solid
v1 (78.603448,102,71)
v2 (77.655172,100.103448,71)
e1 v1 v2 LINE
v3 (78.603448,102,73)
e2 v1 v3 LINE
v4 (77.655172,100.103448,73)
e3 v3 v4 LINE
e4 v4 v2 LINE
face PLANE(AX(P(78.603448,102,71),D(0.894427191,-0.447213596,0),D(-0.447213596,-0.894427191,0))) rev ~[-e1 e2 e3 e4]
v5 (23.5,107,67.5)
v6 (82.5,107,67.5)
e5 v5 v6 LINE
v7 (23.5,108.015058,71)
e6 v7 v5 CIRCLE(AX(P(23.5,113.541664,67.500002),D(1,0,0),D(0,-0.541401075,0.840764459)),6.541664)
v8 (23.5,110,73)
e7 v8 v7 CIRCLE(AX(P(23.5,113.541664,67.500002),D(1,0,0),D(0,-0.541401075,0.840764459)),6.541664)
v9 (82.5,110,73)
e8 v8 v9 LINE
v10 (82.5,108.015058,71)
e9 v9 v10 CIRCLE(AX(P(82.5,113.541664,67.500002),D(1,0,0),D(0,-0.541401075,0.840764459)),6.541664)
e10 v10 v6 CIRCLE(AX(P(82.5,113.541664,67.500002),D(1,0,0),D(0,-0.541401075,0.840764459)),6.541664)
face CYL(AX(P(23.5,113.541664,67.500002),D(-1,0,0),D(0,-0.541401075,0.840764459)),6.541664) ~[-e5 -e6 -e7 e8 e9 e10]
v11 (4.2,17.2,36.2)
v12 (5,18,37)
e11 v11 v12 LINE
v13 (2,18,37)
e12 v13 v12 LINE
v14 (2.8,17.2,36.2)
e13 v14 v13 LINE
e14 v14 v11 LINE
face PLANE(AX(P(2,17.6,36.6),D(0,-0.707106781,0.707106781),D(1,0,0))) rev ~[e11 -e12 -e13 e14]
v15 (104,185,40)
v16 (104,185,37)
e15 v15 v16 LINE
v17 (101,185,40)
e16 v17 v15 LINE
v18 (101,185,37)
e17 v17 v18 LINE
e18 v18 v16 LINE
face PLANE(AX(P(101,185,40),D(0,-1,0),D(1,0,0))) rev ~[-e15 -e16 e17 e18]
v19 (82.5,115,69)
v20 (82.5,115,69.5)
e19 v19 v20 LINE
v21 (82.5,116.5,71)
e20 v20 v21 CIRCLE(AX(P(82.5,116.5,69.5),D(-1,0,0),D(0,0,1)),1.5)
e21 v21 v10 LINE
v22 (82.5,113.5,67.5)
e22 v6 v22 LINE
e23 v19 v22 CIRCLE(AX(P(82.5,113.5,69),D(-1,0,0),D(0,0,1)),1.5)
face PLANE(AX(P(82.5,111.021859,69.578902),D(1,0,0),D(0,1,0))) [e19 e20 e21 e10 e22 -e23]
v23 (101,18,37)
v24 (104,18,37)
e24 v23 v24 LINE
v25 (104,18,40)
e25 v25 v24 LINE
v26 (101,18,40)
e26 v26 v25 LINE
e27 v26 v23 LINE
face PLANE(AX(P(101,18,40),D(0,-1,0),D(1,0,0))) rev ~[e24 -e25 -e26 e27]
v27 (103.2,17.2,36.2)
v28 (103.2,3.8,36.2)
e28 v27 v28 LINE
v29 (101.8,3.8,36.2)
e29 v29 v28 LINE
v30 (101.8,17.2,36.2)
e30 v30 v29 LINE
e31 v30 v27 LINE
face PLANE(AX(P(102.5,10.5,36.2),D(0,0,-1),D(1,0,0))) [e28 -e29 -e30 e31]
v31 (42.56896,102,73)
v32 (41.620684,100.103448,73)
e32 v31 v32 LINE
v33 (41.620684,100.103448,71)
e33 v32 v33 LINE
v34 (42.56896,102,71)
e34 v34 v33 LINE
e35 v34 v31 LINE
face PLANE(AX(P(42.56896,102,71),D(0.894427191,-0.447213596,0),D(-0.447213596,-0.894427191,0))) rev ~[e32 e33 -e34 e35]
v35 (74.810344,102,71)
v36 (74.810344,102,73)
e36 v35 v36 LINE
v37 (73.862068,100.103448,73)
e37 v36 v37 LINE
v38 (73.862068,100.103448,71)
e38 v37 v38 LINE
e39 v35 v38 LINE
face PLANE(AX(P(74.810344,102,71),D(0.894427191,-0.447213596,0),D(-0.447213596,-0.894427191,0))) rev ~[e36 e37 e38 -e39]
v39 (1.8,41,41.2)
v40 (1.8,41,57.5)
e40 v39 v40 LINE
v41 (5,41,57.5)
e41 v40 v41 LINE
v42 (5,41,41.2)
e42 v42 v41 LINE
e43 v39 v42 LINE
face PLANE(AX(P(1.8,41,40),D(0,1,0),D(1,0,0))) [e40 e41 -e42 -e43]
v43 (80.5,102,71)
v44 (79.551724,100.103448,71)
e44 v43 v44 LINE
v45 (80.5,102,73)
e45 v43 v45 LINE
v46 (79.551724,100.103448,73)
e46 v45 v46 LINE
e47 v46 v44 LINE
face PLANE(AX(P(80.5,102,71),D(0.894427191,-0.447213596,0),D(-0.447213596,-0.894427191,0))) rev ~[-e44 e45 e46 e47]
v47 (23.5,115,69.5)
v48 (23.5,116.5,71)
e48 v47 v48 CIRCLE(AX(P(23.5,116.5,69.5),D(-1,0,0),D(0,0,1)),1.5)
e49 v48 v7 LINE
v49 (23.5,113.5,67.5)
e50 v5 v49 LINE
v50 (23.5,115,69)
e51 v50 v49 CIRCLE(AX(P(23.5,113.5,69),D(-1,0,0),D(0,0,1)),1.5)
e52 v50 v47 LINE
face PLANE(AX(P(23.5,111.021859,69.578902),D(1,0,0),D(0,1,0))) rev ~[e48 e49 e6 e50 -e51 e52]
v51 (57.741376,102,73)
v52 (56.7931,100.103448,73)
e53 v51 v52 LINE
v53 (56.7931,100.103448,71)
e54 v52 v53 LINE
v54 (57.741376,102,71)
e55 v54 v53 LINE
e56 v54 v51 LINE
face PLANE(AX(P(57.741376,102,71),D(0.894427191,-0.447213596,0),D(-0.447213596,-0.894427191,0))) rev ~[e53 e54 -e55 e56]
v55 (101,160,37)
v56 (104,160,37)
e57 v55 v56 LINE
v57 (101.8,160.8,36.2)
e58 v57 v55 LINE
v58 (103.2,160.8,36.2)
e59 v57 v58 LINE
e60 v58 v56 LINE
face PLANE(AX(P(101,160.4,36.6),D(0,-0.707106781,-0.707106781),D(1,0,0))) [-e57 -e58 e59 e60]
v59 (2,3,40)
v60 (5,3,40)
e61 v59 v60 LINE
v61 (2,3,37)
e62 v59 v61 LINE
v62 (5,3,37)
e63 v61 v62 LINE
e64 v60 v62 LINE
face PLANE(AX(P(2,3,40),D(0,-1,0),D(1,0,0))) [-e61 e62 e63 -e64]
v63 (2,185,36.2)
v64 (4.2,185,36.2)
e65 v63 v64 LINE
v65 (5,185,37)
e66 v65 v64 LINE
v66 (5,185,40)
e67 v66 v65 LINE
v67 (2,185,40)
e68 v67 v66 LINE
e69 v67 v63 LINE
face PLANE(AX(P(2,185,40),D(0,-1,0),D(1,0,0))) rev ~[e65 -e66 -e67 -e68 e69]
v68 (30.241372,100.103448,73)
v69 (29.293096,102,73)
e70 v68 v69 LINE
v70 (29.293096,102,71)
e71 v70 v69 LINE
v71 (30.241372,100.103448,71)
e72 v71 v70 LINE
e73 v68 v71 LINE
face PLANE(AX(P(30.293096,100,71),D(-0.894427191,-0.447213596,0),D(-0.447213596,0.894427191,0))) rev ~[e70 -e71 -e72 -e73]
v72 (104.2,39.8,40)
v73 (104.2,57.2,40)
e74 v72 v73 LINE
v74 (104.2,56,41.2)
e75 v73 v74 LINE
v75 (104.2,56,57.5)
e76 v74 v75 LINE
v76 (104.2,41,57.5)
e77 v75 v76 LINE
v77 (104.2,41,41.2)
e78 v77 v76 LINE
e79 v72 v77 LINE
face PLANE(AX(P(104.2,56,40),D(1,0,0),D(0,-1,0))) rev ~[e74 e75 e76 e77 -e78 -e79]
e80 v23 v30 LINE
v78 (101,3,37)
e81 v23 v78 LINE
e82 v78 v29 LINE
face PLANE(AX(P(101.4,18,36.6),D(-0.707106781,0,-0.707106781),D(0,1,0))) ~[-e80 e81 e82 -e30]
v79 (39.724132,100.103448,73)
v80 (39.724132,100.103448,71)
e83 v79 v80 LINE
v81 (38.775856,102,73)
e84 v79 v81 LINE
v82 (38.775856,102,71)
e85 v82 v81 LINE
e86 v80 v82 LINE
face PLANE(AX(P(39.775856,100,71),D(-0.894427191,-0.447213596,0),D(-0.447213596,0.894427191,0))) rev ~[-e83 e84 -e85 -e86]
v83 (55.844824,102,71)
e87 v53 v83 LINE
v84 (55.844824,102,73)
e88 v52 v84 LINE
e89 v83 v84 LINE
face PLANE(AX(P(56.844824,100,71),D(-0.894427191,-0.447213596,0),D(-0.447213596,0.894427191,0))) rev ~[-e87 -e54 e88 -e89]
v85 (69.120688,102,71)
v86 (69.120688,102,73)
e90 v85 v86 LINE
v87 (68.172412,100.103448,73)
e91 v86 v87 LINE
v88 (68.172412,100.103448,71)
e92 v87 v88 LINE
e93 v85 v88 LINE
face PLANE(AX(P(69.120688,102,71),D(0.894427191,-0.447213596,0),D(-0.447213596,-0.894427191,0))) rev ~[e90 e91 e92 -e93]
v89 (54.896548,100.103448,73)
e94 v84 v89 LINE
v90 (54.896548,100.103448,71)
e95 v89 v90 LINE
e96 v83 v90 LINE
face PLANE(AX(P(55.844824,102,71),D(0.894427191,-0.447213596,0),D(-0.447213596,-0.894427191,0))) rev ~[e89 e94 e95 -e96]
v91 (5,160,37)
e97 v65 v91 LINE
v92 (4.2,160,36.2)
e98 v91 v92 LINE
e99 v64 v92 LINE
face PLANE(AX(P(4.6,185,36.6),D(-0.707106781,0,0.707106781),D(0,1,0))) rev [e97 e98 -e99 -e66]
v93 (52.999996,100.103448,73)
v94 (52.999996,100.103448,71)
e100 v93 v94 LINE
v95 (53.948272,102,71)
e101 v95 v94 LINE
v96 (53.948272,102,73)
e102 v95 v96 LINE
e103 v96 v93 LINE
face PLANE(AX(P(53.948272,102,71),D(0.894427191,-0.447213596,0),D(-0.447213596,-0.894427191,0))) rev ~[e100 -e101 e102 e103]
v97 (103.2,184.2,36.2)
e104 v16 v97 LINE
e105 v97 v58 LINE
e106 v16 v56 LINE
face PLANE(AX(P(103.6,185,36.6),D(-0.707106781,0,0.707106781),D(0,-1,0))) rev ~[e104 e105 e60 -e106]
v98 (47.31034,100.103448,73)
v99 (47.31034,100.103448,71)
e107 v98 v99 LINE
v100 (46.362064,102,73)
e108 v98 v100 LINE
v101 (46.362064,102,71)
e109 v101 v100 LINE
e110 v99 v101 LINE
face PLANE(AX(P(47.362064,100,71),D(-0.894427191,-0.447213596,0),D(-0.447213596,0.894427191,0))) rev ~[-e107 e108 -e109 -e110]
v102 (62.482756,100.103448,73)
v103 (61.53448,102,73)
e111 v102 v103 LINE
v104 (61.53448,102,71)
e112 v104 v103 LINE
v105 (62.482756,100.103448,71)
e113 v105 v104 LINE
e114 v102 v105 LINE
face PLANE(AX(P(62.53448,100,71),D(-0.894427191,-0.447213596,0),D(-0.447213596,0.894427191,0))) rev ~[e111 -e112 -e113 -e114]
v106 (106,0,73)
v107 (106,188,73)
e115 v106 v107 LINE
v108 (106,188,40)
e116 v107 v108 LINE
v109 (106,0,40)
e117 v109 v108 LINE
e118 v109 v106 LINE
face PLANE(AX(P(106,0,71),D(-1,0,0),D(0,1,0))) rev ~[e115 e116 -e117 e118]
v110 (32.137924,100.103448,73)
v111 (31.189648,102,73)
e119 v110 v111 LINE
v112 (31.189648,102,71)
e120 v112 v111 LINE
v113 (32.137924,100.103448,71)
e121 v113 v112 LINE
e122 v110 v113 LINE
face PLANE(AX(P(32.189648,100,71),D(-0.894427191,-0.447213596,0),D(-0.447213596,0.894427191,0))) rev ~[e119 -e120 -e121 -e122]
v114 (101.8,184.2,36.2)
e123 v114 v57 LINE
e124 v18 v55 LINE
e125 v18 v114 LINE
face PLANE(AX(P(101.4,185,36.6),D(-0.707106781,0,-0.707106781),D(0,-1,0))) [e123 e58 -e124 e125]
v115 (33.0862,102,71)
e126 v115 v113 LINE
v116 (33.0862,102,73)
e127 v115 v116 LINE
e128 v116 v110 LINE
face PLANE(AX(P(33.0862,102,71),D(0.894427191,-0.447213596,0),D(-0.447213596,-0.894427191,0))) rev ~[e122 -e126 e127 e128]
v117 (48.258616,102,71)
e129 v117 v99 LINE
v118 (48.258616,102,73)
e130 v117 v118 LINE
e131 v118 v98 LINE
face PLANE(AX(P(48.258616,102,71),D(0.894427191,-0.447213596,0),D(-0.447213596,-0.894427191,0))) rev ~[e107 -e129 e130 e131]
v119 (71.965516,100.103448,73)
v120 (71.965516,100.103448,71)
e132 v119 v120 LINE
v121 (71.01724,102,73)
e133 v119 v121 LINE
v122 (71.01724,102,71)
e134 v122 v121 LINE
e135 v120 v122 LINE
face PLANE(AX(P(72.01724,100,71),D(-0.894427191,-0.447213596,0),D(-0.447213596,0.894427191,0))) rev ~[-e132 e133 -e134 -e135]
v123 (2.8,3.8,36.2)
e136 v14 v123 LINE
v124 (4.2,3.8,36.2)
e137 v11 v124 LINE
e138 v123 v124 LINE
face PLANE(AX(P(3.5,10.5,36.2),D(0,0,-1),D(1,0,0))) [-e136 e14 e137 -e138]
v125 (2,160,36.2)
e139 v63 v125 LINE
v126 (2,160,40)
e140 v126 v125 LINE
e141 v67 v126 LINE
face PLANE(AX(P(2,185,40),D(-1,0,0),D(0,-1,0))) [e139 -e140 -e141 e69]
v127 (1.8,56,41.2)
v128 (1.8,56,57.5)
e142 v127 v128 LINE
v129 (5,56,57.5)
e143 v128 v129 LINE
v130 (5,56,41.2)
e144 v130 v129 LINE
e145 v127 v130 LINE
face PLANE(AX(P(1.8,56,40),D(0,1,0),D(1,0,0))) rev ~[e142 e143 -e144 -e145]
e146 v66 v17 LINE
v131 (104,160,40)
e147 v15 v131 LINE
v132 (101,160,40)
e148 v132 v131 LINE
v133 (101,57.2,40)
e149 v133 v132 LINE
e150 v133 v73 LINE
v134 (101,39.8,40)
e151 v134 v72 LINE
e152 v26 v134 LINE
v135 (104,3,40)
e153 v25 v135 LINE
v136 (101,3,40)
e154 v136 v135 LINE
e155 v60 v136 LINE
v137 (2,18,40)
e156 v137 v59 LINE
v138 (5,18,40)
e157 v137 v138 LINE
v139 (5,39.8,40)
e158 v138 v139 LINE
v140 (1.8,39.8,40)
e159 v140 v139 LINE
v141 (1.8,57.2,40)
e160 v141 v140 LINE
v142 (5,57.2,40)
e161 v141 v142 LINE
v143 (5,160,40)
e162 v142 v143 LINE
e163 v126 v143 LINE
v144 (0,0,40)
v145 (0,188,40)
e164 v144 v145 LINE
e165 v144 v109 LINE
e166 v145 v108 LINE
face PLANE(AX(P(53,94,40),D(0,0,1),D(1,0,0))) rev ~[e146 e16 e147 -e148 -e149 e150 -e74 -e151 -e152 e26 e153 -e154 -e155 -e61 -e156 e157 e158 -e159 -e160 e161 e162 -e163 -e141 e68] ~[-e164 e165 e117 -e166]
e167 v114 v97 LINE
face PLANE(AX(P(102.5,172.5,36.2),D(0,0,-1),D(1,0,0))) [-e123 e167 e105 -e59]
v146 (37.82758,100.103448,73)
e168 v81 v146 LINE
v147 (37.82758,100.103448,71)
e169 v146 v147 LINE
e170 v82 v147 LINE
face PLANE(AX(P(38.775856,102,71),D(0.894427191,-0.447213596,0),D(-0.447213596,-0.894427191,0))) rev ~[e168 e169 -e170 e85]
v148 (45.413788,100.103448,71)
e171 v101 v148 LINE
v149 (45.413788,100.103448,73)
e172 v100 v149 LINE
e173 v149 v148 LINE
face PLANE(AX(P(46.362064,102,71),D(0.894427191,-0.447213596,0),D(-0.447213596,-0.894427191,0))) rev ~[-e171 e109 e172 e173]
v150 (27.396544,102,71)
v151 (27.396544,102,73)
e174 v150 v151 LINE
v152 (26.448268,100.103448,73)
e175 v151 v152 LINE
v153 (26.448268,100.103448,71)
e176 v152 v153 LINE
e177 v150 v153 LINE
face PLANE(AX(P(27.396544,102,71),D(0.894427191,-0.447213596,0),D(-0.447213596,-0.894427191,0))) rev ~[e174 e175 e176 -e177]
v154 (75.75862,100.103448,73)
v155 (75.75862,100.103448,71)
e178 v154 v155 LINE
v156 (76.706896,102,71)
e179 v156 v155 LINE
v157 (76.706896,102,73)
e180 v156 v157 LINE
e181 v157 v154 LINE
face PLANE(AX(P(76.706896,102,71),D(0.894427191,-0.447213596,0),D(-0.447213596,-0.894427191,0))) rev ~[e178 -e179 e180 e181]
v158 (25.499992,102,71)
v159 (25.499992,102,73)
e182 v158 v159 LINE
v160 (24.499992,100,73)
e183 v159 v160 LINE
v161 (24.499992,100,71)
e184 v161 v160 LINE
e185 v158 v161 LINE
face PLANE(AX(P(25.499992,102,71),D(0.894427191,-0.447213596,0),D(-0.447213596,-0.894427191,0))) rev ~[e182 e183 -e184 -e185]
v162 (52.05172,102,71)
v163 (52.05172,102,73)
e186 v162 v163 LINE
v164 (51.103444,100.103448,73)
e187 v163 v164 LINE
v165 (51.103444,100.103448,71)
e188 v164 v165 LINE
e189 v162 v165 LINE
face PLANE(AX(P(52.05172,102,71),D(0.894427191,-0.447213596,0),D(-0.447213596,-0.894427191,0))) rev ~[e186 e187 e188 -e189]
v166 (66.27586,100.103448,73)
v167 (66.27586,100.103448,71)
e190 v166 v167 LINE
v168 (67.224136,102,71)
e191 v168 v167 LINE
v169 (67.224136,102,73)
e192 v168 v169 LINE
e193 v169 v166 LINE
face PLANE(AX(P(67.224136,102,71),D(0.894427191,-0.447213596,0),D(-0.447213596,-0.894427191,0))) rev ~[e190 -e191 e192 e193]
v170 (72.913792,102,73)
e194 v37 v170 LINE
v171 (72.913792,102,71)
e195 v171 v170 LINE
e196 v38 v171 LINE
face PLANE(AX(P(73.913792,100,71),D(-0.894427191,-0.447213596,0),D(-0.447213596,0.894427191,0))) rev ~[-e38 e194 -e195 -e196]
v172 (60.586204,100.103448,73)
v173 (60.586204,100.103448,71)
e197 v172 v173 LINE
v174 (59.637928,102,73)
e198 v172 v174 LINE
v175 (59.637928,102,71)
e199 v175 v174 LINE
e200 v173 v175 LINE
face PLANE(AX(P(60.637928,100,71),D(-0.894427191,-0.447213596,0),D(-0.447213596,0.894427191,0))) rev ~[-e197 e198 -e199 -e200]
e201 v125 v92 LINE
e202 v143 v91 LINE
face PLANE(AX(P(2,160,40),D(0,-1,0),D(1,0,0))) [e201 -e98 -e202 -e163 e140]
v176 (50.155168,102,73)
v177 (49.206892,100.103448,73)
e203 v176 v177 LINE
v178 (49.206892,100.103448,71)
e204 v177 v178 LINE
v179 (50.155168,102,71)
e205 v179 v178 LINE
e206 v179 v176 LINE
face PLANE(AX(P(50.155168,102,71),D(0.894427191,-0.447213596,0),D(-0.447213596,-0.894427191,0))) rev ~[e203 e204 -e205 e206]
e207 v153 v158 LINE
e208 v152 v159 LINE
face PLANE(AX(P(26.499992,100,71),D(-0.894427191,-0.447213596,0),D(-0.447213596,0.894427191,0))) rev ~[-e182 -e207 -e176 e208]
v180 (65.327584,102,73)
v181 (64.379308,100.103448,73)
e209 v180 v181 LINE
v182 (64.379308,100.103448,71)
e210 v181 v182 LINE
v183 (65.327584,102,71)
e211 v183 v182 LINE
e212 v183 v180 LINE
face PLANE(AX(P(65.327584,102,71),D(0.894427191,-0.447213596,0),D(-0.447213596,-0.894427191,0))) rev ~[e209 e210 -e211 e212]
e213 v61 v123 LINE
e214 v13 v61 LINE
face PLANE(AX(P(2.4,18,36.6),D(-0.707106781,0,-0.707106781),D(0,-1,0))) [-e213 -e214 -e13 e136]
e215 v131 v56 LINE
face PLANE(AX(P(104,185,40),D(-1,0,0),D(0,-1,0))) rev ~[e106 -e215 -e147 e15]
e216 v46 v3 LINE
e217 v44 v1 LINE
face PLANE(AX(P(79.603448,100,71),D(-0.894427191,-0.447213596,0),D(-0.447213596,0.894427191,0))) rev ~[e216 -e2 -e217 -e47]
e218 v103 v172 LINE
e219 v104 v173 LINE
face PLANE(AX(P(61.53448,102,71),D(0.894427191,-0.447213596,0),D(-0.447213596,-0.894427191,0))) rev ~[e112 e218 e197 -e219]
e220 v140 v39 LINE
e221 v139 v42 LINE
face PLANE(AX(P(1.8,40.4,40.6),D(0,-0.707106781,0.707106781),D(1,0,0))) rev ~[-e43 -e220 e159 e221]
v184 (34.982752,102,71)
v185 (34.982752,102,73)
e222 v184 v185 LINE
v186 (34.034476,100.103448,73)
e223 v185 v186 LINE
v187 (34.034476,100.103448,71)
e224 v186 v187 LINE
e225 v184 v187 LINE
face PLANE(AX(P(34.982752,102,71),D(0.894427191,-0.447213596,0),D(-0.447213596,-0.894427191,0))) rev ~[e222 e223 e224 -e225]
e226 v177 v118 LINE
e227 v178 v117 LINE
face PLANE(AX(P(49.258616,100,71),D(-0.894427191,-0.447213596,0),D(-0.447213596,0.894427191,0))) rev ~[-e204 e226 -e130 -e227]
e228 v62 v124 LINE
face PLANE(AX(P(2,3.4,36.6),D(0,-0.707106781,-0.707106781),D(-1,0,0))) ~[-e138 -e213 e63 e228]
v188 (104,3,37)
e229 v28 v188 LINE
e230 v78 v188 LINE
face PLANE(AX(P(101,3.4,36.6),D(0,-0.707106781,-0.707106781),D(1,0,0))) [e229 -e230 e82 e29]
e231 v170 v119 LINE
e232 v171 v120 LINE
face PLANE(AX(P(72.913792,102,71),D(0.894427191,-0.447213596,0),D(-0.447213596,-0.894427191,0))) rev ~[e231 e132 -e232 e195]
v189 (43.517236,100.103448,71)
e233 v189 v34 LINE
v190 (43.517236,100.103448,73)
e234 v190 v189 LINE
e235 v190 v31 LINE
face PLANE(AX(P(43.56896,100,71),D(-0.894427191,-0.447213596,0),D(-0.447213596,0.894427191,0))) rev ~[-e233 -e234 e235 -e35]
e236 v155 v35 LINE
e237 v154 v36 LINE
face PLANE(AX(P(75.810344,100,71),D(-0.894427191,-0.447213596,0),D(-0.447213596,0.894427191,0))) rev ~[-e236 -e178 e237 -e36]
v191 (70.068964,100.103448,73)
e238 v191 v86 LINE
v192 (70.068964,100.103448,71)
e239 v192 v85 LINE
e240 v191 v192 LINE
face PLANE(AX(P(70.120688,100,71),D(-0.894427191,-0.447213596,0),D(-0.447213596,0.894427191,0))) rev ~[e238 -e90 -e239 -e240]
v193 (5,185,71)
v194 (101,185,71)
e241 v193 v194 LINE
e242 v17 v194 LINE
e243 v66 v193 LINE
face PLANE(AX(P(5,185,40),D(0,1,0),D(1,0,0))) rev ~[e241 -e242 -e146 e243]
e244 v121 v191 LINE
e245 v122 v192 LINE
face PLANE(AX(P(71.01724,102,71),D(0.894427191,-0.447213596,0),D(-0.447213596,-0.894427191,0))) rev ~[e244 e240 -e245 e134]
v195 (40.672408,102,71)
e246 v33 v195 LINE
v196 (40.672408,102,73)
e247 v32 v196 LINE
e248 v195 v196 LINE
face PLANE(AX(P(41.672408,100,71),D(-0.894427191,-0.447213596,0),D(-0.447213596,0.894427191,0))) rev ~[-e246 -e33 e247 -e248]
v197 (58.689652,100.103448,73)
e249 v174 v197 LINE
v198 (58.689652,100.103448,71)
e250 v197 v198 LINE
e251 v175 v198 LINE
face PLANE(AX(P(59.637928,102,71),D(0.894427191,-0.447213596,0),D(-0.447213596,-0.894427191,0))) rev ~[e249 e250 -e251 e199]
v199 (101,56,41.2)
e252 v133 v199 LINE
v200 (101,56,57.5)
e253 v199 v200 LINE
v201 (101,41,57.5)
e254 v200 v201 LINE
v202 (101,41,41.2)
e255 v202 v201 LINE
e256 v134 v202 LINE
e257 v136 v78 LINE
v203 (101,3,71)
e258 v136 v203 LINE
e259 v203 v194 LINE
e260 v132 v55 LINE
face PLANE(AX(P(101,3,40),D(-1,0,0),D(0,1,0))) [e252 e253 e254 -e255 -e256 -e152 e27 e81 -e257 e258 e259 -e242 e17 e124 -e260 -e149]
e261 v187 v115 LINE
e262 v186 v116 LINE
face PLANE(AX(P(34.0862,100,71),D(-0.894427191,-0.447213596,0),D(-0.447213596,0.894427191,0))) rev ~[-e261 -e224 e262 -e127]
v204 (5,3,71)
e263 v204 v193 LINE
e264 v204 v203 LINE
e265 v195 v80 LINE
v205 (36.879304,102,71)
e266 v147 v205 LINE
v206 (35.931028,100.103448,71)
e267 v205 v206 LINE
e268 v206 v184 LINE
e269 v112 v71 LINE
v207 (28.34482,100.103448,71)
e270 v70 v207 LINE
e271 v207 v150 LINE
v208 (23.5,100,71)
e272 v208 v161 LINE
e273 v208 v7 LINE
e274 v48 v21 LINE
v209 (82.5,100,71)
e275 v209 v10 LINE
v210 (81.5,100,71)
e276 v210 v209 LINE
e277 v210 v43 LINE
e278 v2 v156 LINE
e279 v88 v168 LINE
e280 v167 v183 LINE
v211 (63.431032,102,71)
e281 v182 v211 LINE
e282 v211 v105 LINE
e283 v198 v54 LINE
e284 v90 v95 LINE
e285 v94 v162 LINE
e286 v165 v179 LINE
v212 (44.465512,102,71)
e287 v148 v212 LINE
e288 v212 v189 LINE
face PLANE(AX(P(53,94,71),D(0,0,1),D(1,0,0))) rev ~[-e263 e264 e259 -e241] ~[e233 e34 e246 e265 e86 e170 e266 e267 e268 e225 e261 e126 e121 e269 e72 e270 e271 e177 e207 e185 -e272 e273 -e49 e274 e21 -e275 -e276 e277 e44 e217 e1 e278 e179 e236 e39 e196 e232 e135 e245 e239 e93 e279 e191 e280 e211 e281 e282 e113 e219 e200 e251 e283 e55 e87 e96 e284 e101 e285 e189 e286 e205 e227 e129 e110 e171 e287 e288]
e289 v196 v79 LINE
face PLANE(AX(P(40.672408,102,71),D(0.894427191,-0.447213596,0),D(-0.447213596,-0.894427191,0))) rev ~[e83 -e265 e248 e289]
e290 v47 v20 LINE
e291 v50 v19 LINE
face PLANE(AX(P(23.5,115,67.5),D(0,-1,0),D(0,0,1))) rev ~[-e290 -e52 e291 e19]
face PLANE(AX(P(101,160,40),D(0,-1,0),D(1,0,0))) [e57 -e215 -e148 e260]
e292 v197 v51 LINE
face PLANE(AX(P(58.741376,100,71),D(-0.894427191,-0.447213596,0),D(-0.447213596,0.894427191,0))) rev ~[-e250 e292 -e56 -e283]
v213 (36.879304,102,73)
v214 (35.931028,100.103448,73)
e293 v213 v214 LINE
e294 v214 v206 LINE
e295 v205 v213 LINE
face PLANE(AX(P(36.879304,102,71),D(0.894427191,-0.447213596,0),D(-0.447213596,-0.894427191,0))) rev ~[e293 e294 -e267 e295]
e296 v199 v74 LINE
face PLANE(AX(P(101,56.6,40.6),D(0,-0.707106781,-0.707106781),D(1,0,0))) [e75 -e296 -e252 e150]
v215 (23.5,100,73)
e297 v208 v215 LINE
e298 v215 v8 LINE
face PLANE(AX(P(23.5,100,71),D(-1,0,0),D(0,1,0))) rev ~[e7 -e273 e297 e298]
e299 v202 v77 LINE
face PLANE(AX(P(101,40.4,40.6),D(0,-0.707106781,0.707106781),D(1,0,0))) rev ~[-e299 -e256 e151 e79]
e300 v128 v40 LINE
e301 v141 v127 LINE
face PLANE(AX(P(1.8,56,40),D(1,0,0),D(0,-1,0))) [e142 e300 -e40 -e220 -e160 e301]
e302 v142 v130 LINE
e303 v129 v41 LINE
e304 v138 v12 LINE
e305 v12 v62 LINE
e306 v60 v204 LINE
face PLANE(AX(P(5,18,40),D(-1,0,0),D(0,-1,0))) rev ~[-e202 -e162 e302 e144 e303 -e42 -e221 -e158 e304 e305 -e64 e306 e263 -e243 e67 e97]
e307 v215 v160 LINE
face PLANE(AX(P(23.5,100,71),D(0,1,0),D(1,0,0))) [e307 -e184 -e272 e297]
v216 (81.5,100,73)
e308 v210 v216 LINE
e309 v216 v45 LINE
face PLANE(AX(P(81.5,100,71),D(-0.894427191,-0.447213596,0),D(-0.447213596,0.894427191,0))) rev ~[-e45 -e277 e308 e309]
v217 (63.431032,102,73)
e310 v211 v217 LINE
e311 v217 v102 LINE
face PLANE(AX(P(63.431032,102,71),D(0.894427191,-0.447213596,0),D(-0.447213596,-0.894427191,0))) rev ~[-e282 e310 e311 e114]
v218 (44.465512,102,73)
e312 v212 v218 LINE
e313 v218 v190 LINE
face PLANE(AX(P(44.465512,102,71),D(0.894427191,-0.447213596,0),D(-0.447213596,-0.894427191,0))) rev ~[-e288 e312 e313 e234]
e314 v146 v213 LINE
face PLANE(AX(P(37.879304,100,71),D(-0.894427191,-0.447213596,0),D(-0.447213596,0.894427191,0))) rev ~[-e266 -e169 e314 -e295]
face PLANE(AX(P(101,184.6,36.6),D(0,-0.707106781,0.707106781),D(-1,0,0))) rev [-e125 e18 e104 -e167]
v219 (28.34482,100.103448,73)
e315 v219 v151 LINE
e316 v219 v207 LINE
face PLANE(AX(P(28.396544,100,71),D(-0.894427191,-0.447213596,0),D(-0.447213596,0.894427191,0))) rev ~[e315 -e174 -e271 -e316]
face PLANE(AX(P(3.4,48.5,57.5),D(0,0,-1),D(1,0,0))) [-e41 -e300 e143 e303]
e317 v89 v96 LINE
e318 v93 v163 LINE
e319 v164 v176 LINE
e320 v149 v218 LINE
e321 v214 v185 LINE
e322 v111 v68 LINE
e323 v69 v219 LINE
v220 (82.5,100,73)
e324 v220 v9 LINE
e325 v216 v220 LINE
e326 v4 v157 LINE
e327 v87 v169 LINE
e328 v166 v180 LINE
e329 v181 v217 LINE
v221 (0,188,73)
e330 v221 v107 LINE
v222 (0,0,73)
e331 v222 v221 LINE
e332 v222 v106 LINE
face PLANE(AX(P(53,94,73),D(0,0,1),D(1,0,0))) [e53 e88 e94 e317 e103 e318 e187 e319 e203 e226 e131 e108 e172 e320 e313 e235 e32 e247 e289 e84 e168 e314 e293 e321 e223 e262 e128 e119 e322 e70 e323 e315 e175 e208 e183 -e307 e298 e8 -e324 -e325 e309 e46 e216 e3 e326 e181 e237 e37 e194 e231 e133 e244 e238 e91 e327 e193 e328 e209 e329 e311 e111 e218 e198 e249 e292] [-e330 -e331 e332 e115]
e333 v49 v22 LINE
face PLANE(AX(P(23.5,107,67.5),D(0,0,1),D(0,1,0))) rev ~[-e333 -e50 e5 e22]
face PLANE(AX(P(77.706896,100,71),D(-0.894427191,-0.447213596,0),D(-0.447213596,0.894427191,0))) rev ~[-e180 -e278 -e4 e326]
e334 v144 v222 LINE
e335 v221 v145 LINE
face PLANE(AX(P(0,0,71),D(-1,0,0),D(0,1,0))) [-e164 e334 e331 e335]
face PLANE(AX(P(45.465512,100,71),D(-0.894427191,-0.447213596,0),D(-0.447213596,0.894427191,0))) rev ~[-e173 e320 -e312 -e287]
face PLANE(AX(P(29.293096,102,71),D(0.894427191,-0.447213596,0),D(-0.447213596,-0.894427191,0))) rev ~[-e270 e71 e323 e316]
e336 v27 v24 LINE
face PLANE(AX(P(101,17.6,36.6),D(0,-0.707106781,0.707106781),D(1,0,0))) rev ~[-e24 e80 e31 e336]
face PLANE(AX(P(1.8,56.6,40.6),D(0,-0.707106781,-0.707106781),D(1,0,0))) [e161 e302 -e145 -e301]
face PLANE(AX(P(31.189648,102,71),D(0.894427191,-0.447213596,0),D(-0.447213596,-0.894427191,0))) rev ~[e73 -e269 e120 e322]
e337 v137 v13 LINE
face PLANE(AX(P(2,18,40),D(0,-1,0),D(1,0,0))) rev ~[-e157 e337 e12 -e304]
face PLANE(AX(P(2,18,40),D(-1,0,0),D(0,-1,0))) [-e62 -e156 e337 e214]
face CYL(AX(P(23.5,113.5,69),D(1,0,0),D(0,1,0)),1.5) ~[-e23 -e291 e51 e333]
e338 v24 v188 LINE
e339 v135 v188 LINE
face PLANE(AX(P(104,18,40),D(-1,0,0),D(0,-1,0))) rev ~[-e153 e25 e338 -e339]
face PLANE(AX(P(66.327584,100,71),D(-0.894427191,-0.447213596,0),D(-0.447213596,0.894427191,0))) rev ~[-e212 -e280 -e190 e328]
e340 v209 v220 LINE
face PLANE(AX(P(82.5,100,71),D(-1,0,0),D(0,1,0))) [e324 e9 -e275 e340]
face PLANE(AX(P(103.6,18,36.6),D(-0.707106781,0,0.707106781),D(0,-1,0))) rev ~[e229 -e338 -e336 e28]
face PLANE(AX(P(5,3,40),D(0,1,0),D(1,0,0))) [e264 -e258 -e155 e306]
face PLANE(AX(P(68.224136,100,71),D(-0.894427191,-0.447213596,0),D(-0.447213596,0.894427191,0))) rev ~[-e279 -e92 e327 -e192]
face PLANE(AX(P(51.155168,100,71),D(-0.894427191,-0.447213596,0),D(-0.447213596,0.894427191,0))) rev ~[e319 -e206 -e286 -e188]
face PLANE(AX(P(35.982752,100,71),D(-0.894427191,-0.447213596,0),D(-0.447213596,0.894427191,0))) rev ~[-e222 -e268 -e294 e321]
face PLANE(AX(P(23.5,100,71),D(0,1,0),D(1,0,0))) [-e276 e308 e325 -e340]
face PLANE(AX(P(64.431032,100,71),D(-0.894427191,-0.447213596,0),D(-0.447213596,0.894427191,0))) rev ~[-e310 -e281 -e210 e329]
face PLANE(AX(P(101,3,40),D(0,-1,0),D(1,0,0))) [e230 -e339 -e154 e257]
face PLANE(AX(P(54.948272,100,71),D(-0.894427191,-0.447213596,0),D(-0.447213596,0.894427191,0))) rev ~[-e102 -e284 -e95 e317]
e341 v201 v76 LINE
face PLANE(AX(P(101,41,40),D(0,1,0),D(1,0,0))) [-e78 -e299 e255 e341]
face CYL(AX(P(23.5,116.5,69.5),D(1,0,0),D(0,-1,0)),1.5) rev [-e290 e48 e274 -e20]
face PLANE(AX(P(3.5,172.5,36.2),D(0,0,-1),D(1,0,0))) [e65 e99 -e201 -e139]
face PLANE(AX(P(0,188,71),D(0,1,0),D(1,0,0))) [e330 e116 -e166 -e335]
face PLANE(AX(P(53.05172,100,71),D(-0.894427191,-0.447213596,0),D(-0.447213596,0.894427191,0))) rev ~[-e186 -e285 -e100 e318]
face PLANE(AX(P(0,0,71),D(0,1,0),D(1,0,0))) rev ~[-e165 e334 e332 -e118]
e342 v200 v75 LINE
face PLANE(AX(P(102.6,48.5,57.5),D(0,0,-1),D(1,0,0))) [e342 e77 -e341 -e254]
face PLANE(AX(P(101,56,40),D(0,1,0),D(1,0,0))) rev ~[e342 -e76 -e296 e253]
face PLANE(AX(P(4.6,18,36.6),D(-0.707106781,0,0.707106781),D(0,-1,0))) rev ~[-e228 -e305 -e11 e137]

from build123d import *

# Parameters (mm, degrees)
SKETCH016_W         = 106
SKETCH016_H         = 188
SKETCH016_W_2       = 96
SKETCH016_H_2       = 182
PAD010_DEPTH        = 31
SKETCH017_W         = 3
SKETCH017_H         = 15
SKETCH017_H_2       = 25
PAD011_DEPTH        = 3.8
SKETCH018_W         = 3.2
SKETCH018_H         = 15
POCKET006_DEPTH     = 17.5
SKETCH019_W         = 106
SKETCH019_H         = 188
SKETCH019_W_2       = 59
SKETCH019_H_2       = 10
PAD012_DEPTH        = 2
CHAMFER001_SIZE     = 0.8
CHAMFER002_SIZE     = 1.2
PAD013_DEPTH        = 2
LINEARPATTERN_COUNT = 30
LINEARPATTERN_PITCH = 1.896552
PAD014_DEPTH        = 59
FILLET_R            = 1.5


with BuildPart() as part:
    # Sketch016 → Pad010 (new body)
    with BuildSketch(Plane.XY):
        with Locations((53, 94)):
            Rectangle(SKETCH016_W, SKETCH016_H)
        with Locations((53, 94)):
            Rectangle(SKETCH016_W_2, SKETCH016_H_2, mode=Mode.SUBTRACT)
    extrude(amount=PAD010_DEPTH)

    # Sketch017 (on Face9 of Pad010) → Pad011 (join)
    with BuildSketch(Plane(origin=(0, 0, 0), x_dir=(1, 0, 0), z_dir=(0, 0, -1))):
        with Locations((3.5, -10.5)):
            Rectangle(SKETCH017_W, SKETCH017_H)
        with Locations((3.5, -172.5)):
            Rectangle(SKETCH017_W, SKETCH017_H_2)
        with Locations((102.5, -172.5)):
            Rectangle(SKETCH017_W, SKETCH017_H_2)
        with Locations((102.5, -10.5)):
            Rectangle(SKETCH017_W, SKETCH017_H)
    extrude(amount=PAD011_DEPTH)

    # Sketch018 (on Face4 of Pad011) → Pocket006 (cut)
    with BuildSketch(Plane(origin=(0, 0, 0), x_dir=(1, 0, 0), z_dir=(0, 0, -1))):
        with Locations((3.4, -48.5)):
            Rectangle(SKETCH018_W, SKETCH018_H)
        with Locations((102.6, -48.5)):
            Rectangle(SKETCH018_W, SKETCH018_H)
    extrude(amount=-POCKET006_DEPTH, mode=Mode.SUBTRACT)

    # Sketch019 (on Face5 of Pocket006) → Pad012 (join)
    with BuildSketch(Plane.XY.offset(31)):
        with Locations((53, 94)):
            Rectangle(SKETCH019_W, SKETCH019_H)
        with Locations((53, 105)):
            Rectangle(SKETCH019_W_2, SKETCH019_H_2, mode=Mode.SUBTRACT)
    extrude(amount=PAD012_DEPTH)

    # Chamfer001
    chamfer001_edges = [part.edges().sort_by_distance(p)[0] for p in [
        (101, 10.5, -3.8),
        (102.5, 18, -3.8),
        (104, 10.5, -3.8),
        (102.5, 3, -3.8),
        (102.5, 185, -3.8),
        (104, 172.5, -3.8),
        (102.5, 160, -3.8),
        (101, 172.5, -3.8),
        (5, 172.5, -3.8),
        (3.5, 3, -3.8),
        (2, 10.5, -3.8),
        (3.5, 18, -3.8),
        (5, 10.5, -3.8),
    ]]
    chamfer(chamfer001_edges, length=CHAMFER001_SIZE)

    # Chamfer002
    chamfer002_edges = [part.edges().sort_by_distance(p)[0] for p in [
        (102.6, 56, 0),
        (102.6, 41, 0),
        (3.4, 41, 0),
        (3.4, 56, 0),
    ]]
    chamfer(chamfer002_edges, length=CHAMFER002_SIZE)

    # Sketch020 (on Face12 of Chamfer002) → Pad013 (join)
    with BuildSketch(Plane(origin=(0, 0, 31), x_dir=(1, 0, 0), z_dir=(0, 0, -1))):
        Polygon((81.5, -100), (80.5, -102), (79.5, -100), align=None)
    pad013 = extrude(amount=-PAD013_DEPTH)

    # LinearPattern: Pad013 ×30
    with Locations(*[(-i * LINEARPATTERN_PITCH, 0, 0) for i in range(1, LINEARPATTERN_COUNT)]):
        add(pad013)

    # Sketch021 (on Face112 of LinearPattern) → Pad014 (join)
    with BuildSketch(Plane.YZ.offset(23.5)):
        with BuildLine():
            ThreePointArc((110, 33), (107.798766, 30.632491), (107, 27.5))
            Line((107, 27.5), (115, 27.5))
            Line((115, 27.5), (115, 31))
            Line((110, 31), (115, 31))
            Line((110, 33), (110, 31))
        make_face()
    extrude(amount=PAD014_DEPTH)

    # Fillet
    fillet_edges = [part.edges().sort_by_distance(p)[0] for p in [
        (53, 115, 31),
        (53, 115, 27.5),
    ]]
    fillet(fillet_edges, radius=FILLET_R)


with BuildPart() as part_1:
    # Body003 placement: moved
    add(part.part.moved(Location((0, 0, 40))))


solid = part_1.part
